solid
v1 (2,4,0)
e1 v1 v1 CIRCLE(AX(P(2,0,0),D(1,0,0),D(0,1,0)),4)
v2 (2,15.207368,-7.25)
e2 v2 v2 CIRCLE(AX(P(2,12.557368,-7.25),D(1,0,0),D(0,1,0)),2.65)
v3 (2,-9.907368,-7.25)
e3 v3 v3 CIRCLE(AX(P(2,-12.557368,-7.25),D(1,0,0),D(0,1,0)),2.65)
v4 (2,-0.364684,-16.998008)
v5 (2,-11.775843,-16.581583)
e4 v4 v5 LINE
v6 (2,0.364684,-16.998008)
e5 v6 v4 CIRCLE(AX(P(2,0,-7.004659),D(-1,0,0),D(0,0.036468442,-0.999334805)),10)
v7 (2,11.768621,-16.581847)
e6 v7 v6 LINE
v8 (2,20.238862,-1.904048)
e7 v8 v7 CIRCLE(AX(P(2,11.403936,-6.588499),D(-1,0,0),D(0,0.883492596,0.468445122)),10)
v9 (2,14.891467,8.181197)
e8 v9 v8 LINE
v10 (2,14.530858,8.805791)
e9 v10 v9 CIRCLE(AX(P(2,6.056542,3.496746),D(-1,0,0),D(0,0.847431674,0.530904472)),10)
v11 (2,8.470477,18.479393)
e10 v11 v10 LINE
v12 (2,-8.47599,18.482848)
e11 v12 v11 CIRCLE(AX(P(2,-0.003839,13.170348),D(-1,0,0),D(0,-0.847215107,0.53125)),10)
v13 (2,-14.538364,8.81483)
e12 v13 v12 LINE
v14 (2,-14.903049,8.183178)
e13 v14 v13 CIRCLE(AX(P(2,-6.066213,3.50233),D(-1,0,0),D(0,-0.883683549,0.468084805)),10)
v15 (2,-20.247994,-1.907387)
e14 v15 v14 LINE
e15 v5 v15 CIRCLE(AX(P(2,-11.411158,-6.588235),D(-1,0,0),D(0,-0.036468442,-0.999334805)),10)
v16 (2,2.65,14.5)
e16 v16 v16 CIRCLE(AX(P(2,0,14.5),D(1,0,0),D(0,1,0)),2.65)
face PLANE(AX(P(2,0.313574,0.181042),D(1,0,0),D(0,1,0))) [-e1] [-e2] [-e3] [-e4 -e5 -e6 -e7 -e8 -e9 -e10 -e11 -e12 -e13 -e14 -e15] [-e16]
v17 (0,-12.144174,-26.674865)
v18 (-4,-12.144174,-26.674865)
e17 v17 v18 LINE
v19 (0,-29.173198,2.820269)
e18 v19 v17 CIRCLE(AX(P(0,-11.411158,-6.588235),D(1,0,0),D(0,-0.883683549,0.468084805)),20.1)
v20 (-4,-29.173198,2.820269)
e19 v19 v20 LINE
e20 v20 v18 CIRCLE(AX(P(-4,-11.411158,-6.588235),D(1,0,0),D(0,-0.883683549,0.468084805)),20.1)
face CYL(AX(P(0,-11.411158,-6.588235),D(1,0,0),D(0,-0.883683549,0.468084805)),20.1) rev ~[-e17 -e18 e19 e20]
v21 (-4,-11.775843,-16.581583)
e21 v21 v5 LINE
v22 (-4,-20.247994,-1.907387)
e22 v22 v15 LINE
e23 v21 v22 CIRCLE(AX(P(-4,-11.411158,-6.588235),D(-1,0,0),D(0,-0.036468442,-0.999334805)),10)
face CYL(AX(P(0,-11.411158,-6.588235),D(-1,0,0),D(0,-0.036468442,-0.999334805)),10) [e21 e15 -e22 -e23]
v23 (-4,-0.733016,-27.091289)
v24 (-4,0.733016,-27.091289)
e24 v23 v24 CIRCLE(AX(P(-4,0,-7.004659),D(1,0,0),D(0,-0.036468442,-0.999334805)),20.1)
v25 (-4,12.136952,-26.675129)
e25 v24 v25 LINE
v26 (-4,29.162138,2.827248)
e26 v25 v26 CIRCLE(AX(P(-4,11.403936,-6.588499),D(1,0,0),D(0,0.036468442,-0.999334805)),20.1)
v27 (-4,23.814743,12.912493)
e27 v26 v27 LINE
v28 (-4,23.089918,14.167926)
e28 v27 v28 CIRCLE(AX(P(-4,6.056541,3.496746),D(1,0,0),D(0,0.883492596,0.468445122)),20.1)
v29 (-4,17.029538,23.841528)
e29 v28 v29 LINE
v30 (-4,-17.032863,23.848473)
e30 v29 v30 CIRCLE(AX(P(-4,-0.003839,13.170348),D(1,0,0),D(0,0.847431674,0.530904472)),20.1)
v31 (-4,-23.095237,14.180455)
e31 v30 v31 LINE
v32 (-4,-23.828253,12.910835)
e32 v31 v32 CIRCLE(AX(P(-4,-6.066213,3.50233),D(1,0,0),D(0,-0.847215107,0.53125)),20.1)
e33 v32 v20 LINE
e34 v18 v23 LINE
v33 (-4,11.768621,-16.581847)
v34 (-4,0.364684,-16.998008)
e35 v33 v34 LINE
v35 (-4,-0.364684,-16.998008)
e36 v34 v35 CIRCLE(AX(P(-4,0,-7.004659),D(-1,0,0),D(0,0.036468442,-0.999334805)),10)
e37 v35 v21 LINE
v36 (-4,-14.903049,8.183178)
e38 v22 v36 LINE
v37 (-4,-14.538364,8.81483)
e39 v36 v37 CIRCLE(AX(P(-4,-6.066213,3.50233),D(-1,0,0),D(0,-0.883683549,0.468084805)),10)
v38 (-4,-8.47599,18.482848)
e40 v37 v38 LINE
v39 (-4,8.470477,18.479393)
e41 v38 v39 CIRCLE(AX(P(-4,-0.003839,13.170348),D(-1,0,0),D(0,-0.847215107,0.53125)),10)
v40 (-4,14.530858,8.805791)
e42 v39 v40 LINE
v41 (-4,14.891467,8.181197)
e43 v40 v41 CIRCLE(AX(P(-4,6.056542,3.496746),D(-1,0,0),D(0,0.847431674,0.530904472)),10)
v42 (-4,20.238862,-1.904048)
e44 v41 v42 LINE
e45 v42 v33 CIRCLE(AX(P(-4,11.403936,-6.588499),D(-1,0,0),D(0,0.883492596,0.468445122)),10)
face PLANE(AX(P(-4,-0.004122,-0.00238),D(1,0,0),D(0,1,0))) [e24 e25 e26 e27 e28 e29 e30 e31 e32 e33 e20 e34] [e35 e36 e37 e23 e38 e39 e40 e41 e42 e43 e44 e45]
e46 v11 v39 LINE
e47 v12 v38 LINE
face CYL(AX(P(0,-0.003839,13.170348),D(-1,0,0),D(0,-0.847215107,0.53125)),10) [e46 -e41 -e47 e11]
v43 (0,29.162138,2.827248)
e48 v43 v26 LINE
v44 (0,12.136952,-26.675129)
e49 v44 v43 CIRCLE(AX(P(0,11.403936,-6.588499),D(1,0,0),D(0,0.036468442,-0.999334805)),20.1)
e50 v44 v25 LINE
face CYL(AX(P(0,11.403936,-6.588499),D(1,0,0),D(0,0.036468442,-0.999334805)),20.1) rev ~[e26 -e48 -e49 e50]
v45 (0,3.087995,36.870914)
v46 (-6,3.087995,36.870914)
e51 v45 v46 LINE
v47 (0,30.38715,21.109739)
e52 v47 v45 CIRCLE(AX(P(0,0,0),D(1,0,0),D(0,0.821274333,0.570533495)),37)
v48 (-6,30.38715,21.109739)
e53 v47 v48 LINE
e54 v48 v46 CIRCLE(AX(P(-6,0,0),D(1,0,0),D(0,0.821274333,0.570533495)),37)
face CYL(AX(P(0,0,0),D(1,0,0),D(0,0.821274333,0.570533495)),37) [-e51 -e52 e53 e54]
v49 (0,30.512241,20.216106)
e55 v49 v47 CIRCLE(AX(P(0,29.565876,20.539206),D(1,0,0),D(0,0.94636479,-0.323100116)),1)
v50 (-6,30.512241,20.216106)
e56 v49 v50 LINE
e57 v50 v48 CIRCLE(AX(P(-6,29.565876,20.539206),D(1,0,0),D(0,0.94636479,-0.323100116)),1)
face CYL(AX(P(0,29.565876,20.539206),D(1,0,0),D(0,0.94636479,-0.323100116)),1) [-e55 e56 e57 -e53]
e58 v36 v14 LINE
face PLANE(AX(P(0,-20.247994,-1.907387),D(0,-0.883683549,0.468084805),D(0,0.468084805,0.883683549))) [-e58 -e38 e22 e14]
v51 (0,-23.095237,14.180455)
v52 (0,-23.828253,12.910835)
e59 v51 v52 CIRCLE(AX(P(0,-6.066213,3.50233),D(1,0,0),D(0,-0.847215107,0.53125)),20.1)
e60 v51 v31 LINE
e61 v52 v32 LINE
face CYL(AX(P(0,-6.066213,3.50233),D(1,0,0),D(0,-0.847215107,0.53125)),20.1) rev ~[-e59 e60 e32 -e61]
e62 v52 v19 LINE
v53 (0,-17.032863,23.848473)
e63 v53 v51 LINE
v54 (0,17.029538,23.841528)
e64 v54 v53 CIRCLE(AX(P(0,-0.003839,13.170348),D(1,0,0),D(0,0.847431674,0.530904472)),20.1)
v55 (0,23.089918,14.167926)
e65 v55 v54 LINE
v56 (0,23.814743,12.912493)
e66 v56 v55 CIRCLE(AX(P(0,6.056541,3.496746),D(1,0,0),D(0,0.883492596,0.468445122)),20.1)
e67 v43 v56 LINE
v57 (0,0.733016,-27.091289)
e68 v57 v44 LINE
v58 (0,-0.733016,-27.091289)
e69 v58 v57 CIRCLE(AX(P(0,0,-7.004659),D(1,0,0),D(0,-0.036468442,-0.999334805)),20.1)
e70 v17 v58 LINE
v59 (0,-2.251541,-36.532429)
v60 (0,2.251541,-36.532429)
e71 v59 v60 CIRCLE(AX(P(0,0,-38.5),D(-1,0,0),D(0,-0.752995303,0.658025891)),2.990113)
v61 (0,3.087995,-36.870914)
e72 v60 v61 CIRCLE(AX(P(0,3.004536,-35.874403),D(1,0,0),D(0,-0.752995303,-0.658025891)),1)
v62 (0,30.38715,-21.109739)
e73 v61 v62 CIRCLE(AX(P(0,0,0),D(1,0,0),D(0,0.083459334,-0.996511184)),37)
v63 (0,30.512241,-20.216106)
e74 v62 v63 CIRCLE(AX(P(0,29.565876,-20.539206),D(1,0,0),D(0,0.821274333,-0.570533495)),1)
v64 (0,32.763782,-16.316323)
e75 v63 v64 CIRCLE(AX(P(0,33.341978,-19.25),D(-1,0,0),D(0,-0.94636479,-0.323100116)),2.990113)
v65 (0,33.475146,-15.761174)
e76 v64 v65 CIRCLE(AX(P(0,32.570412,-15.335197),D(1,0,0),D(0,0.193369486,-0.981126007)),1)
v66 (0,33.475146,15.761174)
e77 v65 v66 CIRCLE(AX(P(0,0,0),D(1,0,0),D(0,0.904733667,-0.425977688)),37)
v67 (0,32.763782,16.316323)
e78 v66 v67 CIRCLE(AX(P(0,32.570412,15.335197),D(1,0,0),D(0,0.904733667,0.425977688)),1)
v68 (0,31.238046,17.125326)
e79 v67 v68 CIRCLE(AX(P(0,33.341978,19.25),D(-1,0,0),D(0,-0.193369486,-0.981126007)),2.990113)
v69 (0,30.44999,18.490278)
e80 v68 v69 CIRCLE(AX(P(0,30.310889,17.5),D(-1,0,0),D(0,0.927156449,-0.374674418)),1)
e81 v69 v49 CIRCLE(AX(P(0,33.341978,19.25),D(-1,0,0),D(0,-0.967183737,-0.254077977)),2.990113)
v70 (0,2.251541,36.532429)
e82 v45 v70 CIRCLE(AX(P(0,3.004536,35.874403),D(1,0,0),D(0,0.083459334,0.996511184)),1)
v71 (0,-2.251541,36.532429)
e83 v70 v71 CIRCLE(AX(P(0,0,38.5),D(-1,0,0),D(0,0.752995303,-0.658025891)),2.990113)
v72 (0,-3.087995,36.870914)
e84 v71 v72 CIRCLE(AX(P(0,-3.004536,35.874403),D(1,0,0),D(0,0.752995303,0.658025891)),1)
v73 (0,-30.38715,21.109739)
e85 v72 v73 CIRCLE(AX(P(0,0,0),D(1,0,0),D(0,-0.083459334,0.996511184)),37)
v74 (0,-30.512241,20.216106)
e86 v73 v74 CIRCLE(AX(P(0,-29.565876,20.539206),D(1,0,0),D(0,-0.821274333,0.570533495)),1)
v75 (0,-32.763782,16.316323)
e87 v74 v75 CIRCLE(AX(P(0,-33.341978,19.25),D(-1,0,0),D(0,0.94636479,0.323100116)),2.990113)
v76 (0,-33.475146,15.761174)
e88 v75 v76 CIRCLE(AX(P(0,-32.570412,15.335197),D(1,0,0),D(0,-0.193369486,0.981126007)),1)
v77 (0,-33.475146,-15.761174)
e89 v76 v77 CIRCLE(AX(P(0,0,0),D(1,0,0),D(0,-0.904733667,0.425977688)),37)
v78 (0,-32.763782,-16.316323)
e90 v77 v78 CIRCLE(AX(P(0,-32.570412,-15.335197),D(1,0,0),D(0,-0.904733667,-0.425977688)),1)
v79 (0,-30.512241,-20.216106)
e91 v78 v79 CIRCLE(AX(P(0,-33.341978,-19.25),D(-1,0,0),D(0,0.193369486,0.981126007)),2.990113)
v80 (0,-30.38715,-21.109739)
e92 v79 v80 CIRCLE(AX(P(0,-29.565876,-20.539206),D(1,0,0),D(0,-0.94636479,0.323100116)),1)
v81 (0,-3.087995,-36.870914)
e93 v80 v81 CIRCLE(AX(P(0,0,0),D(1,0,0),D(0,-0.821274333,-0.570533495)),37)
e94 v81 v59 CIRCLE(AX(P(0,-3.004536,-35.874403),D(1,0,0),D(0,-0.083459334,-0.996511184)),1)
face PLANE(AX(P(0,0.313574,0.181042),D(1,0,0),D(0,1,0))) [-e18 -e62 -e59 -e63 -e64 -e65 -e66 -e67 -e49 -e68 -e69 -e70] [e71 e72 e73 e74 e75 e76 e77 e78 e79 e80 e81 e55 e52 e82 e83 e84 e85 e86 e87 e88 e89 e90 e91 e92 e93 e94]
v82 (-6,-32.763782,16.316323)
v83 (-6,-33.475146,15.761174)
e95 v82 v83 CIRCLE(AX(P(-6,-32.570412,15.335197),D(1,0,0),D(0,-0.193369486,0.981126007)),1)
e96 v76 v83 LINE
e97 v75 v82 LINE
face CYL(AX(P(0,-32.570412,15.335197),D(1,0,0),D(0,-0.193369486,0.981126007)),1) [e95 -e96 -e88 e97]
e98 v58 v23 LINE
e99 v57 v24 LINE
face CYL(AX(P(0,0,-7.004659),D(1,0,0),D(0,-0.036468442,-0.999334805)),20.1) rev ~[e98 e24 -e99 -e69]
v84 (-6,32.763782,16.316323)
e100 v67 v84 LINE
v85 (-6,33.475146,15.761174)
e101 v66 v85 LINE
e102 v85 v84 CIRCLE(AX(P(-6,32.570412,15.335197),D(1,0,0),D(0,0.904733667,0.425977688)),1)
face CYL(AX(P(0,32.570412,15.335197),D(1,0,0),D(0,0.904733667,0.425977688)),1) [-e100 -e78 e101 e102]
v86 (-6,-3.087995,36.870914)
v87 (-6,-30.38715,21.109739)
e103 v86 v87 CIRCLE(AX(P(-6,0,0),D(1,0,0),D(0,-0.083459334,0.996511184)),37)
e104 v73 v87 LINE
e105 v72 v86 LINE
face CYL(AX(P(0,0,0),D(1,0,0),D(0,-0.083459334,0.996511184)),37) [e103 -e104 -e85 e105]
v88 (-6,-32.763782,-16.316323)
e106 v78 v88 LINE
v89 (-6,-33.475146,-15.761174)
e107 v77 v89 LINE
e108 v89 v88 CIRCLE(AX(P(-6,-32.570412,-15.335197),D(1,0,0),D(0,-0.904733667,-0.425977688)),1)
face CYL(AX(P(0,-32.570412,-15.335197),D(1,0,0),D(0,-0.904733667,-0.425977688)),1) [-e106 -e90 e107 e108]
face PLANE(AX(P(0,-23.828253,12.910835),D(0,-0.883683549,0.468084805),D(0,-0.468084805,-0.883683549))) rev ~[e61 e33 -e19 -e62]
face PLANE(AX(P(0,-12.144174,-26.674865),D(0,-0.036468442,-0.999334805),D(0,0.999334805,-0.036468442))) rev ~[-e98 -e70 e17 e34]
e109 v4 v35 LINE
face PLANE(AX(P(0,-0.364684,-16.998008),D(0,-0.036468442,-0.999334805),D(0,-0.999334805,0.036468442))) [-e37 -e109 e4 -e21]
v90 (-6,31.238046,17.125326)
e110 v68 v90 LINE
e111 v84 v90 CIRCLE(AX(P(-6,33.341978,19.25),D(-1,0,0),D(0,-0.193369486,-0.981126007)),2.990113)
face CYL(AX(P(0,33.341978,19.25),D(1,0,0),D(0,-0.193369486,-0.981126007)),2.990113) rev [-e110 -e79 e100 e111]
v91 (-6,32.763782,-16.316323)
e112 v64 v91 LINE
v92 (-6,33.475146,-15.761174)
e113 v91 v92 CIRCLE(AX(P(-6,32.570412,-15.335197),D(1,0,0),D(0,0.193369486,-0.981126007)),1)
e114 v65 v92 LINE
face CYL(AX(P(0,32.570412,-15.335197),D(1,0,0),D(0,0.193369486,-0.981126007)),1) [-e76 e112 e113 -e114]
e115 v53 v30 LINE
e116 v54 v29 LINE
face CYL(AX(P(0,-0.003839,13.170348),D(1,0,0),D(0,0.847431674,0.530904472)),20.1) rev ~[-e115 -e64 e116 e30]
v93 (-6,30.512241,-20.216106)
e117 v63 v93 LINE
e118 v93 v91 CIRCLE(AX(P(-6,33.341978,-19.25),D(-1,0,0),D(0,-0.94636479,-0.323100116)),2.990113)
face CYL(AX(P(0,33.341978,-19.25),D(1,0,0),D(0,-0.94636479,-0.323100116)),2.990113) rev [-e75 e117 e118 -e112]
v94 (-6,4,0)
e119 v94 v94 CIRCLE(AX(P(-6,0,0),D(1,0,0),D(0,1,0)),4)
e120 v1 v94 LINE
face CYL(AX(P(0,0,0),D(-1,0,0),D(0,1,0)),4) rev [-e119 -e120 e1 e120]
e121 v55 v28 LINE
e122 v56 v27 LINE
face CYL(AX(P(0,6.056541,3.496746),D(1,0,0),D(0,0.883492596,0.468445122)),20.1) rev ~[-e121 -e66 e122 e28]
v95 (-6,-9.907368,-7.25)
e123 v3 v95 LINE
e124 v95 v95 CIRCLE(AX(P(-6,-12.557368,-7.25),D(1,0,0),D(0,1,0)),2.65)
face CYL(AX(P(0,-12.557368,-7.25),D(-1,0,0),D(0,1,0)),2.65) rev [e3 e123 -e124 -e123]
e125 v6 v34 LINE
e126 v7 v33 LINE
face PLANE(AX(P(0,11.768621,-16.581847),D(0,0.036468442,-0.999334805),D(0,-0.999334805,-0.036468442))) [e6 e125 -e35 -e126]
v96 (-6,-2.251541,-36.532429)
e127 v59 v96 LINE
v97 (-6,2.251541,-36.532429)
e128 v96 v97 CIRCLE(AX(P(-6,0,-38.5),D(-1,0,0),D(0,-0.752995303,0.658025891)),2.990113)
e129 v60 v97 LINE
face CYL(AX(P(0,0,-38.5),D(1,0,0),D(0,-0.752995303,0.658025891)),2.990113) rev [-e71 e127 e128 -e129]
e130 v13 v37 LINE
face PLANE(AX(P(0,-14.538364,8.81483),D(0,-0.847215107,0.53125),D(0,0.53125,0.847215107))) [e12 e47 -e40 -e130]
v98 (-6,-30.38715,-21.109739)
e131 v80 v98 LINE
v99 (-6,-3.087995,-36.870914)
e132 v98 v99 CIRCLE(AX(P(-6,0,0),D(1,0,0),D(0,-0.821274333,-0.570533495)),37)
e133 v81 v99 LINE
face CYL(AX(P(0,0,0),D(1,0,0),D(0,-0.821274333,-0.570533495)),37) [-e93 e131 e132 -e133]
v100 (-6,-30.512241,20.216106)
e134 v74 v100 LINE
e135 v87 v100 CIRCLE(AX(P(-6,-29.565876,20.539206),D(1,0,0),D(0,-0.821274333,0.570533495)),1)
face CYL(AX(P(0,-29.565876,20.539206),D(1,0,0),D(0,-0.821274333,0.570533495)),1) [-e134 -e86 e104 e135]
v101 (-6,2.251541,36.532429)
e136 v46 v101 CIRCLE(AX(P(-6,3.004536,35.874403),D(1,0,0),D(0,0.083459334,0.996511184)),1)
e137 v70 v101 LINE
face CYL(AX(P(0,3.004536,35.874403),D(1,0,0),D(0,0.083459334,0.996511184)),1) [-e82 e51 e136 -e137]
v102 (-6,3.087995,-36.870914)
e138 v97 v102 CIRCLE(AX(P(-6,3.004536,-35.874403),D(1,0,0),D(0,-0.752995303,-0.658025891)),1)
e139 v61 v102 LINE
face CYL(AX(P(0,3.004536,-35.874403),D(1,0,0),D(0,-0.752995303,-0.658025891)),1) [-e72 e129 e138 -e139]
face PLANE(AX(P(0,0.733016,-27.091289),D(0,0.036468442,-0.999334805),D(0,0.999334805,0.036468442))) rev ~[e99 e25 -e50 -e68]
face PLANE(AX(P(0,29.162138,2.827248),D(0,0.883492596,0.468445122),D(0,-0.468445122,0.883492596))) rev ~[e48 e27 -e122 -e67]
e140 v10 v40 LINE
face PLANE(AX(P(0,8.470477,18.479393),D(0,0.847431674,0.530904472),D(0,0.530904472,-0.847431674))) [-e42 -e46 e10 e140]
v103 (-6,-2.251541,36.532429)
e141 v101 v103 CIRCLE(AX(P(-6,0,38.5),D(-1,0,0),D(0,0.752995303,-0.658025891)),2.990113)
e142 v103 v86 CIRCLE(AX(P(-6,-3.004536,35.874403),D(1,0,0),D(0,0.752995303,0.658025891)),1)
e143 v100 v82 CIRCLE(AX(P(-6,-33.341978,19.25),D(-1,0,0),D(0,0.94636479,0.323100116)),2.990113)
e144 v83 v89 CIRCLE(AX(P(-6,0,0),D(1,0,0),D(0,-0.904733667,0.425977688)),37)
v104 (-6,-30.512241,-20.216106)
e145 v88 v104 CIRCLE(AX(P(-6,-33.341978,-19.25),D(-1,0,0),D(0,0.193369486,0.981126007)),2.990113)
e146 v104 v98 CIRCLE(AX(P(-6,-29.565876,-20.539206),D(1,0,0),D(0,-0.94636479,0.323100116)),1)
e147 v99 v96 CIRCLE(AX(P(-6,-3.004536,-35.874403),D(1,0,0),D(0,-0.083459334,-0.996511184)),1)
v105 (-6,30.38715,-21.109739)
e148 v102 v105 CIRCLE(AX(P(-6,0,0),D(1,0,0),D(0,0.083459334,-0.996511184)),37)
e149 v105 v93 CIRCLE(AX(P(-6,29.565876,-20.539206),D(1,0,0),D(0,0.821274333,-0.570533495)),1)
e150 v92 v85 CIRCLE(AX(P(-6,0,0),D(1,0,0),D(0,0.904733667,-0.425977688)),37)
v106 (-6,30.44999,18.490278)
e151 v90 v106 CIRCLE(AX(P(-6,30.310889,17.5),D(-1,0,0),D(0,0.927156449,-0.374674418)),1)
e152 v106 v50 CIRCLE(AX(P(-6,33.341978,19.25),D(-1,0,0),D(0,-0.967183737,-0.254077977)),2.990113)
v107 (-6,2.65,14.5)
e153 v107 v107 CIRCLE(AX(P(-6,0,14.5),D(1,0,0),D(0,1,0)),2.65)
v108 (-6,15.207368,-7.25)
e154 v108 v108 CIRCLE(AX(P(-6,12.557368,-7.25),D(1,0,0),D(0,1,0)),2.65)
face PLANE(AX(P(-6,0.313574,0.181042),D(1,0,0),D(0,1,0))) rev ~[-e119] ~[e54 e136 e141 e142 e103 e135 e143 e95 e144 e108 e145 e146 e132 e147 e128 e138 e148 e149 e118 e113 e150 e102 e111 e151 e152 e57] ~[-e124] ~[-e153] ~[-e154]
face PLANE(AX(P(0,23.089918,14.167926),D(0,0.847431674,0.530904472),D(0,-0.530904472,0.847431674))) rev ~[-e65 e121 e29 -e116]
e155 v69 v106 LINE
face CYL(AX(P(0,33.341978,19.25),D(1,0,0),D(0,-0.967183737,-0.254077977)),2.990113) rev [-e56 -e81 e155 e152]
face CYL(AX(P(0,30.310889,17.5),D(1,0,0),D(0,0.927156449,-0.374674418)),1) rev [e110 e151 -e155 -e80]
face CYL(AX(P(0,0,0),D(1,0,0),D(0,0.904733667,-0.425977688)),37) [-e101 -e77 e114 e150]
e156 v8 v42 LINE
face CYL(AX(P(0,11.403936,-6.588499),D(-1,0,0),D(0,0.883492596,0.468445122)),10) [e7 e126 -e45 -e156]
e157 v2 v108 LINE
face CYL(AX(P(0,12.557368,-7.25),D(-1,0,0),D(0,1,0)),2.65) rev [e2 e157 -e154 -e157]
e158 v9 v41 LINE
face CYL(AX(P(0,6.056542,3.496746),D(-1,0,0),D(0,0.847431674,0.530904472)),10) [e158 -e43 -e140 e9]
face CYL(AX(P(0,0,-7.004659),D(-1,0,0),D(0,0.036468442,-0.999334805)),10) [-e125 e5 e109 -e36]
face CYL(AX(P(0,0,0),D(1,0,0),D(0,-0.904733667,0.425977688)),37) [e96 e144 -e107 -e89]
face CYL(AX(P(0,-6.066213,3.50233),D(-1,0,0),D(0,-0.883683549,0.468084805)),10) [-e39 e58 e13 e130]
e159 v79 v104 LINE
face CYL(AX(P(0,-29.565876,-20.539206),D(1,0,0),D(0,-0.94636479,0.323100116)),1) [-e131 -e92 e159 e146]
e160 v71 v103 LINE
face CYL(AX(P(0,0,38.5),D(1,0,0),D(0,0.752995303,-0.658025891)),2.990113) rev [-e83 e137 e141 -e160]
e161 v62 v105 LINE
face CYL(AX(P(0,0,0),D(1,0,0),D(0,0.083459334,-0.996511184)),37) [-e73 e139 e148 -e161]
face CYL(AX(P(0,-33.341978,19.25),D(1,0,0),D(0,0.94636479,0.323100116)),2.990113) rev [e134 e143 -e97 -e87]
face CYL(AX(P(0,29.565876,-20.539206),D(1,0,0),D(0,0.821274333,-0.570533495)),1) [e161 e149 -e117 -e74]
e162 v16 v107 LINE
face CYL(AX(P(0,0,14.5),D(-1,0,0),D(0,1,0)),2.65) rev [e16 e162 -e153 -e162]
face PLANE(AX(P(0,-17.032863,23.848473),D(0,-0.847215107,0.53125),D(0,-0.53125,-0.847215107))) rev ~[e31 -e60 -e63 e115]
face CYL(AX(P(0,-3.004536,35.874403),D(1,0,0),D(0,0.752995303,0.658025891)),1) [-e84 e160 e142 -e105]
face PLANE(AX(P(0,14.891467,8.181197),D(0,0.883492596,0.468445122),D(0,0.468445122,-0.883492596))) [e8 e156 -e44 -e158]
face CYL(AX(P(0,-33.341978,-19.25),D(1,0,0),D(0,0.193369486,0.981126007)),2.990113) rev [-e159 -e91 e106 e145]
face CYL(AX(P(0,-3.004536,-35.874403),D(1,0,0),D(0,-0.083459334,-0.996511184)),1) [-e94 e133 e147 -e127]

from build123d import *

# Parameters (mm, degrees)
F0_R     = 2.65
F0_R_2   = 4
F1_DEPTH = 6
F2_DEPTH = 4
F3_DEPTH = 2


with BuildPart() as f1:
    # F0 (on Right) → F1 (new body)
    with BuildSketch(Plane.YZ):
        with BuildLine():
            ThreePointArc((-2.2515407231, 36.53242851), (-2.6294191421, 36.8013801393), (-3.0879953604, 36.8709138028))
            ThreePointArc((-3.0879953604, 36.8709138028), (-18.5, 32.04293994), (-30.3871503338, 21.1097393303))
            ThreePointArc((-30.3871503338, 21.1097393303), (-30.5562205239, 20.6778338439), (-30.5122407901, 20.2161057189))
            ThreePointArc((-30.5122407901, 20.2161057189), (-30.7524645978, 17.7549437138), (-32.7637815132, 16.3163227911))
            ThreePointArc((-32.7637815132, 16.3163227911), (-33.185639666, 16.1235462954), (-33.4751456942, 15.7611744725))
            ThreePointArc((-33.4751456942, 15.7611744725), (-37, 0), (-33.4751456942, -15.7611744725))
            ThreePointArc((-33.4751456942, -15.7611744725), (-33.185639666, -16.1235462954), (-32.7637815132, -16.3163227911))
            ThreePointArc((-32.7637815132, -16.3163227911), (-30.7524645978, -17.7549437138), (-30.5122407901, -20.2161057189))
            ThreePointArc((-30.5122407901, -20.2161057189), (-30.5562205239, -20.6778338439), (-30.3871503338, -21.1097393303))
            ThreePointArc((-30.3871503338, -21.1097393303), (-18.5, -32.04293994), (-3.0879953604, -36.8709138028))
            ThreePointArc((-3.0879953604, -36.8709138028), (-2.6294191421, -36.8013801393), (-2.2515407231, -36.53242851))
            ThreePointArc((-2.2515407231, -36.53242851), (0, -35.5098874275), (2.2515407231, -36.53242851))
            ThreePointArc((2.2515407231, -36.53242851), (2.6294191421, -36.8013801393), (3.0879953604, -36.8709138028))
            ThreePointArc((3.0879953604, -36.8709138028), (18.5, -32.04293994), (30.3871503338, -21.1097393303))
            ThreePointArc((30.3871503338, -21.1097393303), (30.5562205239, -20.6778338439), (30.5122407901, -20.2161057189))
            ThreePointArc((30.5122407901, -20.2161057189), (30.7524645978, -17.7549437138), (32.7637815132, -16.3163227911))
            ThreePointArc((32.7637815132, -16.3163227911), (33.185639666, -16.1235462954), (33.4751456942, -15.7611744725))
            ThreePointArc((33.4751456942, -15.7611744725), (37, 0), (33.4751456942, 15.7611744725))
            ThreePointArc((33.4751456942, 15.7611744725), (33.185639666, 16.1235462954), (32.7637815132, 16.3163227911))
            ThreePointArc((32.7637815132, 16.3163227911), (31.941237039, 16.6082774884), (31.2380455813, 17.1253255822))
            ThreePointArc((31.2380455813, 17.1253255822), (29.4448637287, 17), (30.449989793, 18.4902782469))
            ThreePointArc((30.449989793, 18.4902782469), (30.3538087376, 19.3577839598), (30.5122407901, 20.2161057189))
            ThreePointArc((30.5122407901, 20.2161057189), (30.5562205239, 20.6778338439), (30.3871503338, 21.1097393303))
            ThreePointArc((30.3871503338, 21.1097393303), (18.5, 32.04293994), (3.0879953604, 36.8709138028))
            ThreePointArc((3.0879953604, 36.8709138028), (2.6294191421, 36.8013801393), (2.2515407231, 36.53242851))
            ThreePointArc((2.2515407231, 36.53242851), (0, 35.5098874275), (-2.2515407231, 36.53242851))
        make_face()
        with BuildLine():
            Line((-23.0952370323, 14.180454946), (-17.0328632471, 23.8484731203))
            ThreePointArc((-17.0328632471, 23.8484731203), (0.0002590164, 33.2703478915), (17.0295377344, 23.8415279974))
            Line((17.0295377344, 23.8415279974), (23.0899184639, 14.167925942))
            ThreePointArc((23.0899184639, 14.167925942), (23.4636524397, 13.5467460522), (23.8147430167, 12.9124929901))
            Line((23.8147430167, 12.9124929901), (29.162137778, 2.827248294))
            ThreePointArc((29.162137778, 2.827248294), (28.813095975, -16.6349496309), (12.1369519401, -26.6751288313))
            Line((12.1369519401, -26.6751288313), (0.7330157043, -27.0912894495))
            ThreePointArc((0.7330157043, -27.0912894495), (0, -27.1046598669), (-0.7330157043, -27.0912894495))
            Line((-0.7330157043, -27.0912894495), (-12.1441739659, -26.6748652799))
            ThreePointArc((-12.1441739659, -26.6748652799), (-28.8182692269, -16.6382354957), (-29.1731979579, 2.8202694775))
            Line((-29.1731979579, 2.8202694775), (-23.8282527367, 12.9108345034))
            ThreePointArc((-23.8282527367, 12.9108345034), (-23.4733240056, 13.5523299334), (-23.0952370323, 14.180454946))
        make_face(mode=Mode.SUBTRACT)
        with BuildLine():
            ThreePointArc((17.0295377344, 23.8415279974), (0.0002590164, 33.2703478915), (-17.0328632471, 23.8484731203))
            Line((-17.0328632471, 23.8484731203), (-23.0952370323, 14.180454946))
            ThreePointArc((-23.0952370323, 14.180454946), (-23.4733240056, 13.5523299334), (-23.8282527367, 12.9108345034))
            Line((-23.8282527367, 12.9108345034), (-29.1731979579, 2.8202694775))
            ThreePointArc((-29.1731979579, 2.8202694775), (-28.8182692269, -16.6382354957), (-12.1441739659, -26.6748652799))
            Line((-12.1441739659, -26.6748652799), (-0.7330157043, -27.0912894495))
            ThreePointArc((-0.7330157043, -27.0912894495), (0, -27.1046598669), (0.7330157043, -27.0912894495))
            Line((0.7330157043, -27.0912894495), (12.1369519401, -26.6751288313))
            ThreePointArc((12.1369519401, -26.6751288313), (28.813095975, -16.6349496309), (29.162137778, 2.827248294))
            Line((29.162137778, 2.827248294), (23.8147430167, 12.9124929901))
            ThreePointArc((23.8147430167, 12.9124929901), (23.4636524397, 13.5467460522), (23.0899184639, 14.167925942))
            Line((23.0899184639, 14.167925942), (17.0295377344, 23.8415279974))
        make_face()
        with BuildLine():
            Line((-14.5383641102, 8.8148297318), (-8.4759903249, 18.482847906))
            ThreePointArc((-8.4759903249, 18.482847906), (-0.0018003141, 23.1703476982), (8.4704774851, 18.4793926211))
            Line((8.4704774851, 18.4793926211), (14.5308582146, 8.8057905657))
            ThreePointArc((14.5308582146, 8.8057905657), (14.7167955123, 8.4967458506), (14.8914674376, 8.1811970698))
            Line((14.8914674376, 8.1811970698), (20.2388621989, -1.9040476263))
            ThreePointArc((20.2388621989, -1.9040476263), (20.0652095641, -11.5867329668), (11.7686206585, -16.5818468966))
            Line((11.7686206585, -16.5818468966), (0.3646844227, -16.9980075148))
            ThreePointArc((0.3646844227, -16.9980075148), (0, -17.0046594636), (-0.3646844227, -16.9980075148))
            Line((-0.3646844227, -16.9980075148), (-11.7758426843, -16.5815833453))
            ThreePointArc((-11.7758426843, -16.5815833453), (-20.0714122995, -11.5882352941), (-20.2479937541, -1.9073872429))
            Line((-20.2479937541, -1.9073872429), (-14.9030485329, 8.183177783))
            ThreePointArc((-14.9030485329, 8.183177783), (-14.7264670782, 8.5023297318), (-14.5383641102, 8.8148297318))
        make_face(mode=Mode.SUBTRACT)
        with BuildLine():
            ThreePointArc((8.4704774851, 18.4793926211), (-0.0018003141, 23.1703476982), (-8.4759903249, 18.482847906))
            Line((-8.4759903249, 18.482847906), (-14.5383641102, 8.8148297318))
            ThreePointArc((-14.5383641102, 8.8148297318), (-14.7264670782, 8.5023297318), (-14.9030485329, 8.183177783))
            Line((-14.9030485329, 8.183177783), (-20.2479937541, -1.9073872429))
            ThreePointArc((-20.2479937541, -1.9073872429), (-20.0714122995, -11.5882352941), (-11.7758426843, -16.5815833453))
            Line((-11.7758426843, -16.5815833453), (-0.3646844227, -16.9980075148))
            ThreePointArc((-0.3646844227, -16.9980075148), (0, -17.0046594636), (0.3646844227, -16.9980075148))
            Line((0.3646844227, -16.9980075148), (11.7686206585, -16.5818468966))
            ThreePointArc((11.7686206585, -16.5818468966), (20.0652095641, -11.5867329668), (20.2388621989, -1.9040476263))
            Line((20.2388621989, -1.9040476263), (14.8914674376, 8.1811970698))
            ThreePointArc((14.8914674376, 8.1811970698), (14.7167955123, 8.4967458506), (14.5308582146, 8.8057905657))
            Line((14.5308582146, 8.8057905657), (8.4704774851, 18.4793926211))
        make_face()
        with Locations((-12.5573683549, -7.25)):
            Circle(F0_R, mode=Mode.SUBTRACT)
        with Locations((12.5573683549, -7.25)):
            Circle(F0_R, mode=Mode.SUBTRACT)
        Circle(F0_R_2, mode=Mode.SUBTRACT)
        with Locations((0, 14.5)):
            Circle(F0_R, mode=Mode.SUBTRACT)
    extrude(amount=-F1_DEPTH)

    # F0 (on Right) → F2 (cut)
    with BuildSketch(Plane.YZ):
        with BuildLine():
            ThreePointArc((17.0295377344, 23.8415279974), (0.0002590164, 33.2703478915), (-17.0328632471, 23.8484731203))
            Line((-17.0328632471, 23.8484731203), (-23.0952370323, 14.180454946))
            ThreePointArc((-23.0952370323, 14.180454946), (-23.4733240056, 13.5523299334), (-23.8282527367, 12.9108345034))
            Line((-23.8282527367, 12.9108345034), (-29.1731979579, 2.8202694775))
            ThreePointArc((-29.1731979579, 2.8202694775), (-28.8182692269, -16.6382354957), (-12.1441739659, -26.6748652799))
            Line((-12.1441739659, -26.6748652799), (-0.7330157043, -27.0912894495))
            ThreePointArc((-0.7330157043, -27.0912894495), (0, -27.1046598669), (0.7330157043, -27.0912894495))
            Line((0.7330157043, -27.0912894495), (12.1369519401, -26.6751288313))
            ThreePointArc((12.1369519401, -26.6751288313), (28.813095975, -16.6349496309), (29.162137778, 2.827248294))
            Line((29.162137778, 2.827248294), (23.8147430167, 12.9124929901))
            ThreePointArc((23.8147430167, 12.9124929901), (23.4636524397, 13.5467460522), (23.0899184639, 14.167925942))
            Line((23.0899184639, 14.167925942), (17.0295377344, 23.8415279974))
        make_face()
        with BuildLine():
            Line((-14.5383641102, 8.8148297318), (-8.4759903249, 18.482847906))
            ThreePointArc((-8.4759903249, 18.482847906), (-0.0018003141, 23.1703476982), (8.4704774851, 18.4793926211))
            Line((8.4704774851, 18.4793926211), (14.5308582146, 8.8057905657))
            ThreePointArc((14.5308582146, 8.8057905657), (14.7167955123, 8.4967458506), (14.8914674376, 8.1811970698))
            Line((14.8914674376, 8.1811970698), (20.2388621989, -1.9040476263))
            ThreePointArc((20.2388621989, -1.9040476263), (20.0652095641, -11.5867329668), (11.7686206585, -16.5818468966))
            Line((11.7686206585, -16.5818468966), (0.3646844227, -16.9980075148))
            ThreePointArc((0.3646844227, -16.9980075148), (0, -17.0046594636), (-0.3646844227, -16.9980075148))
            Line((-0.3646844227, -16.9980075148), (-11.7758426843, -16.5815833453))
            ThreePointArc((-11.7758426843, -16.5815833453), (-20.0714122995, -11.5882352941), (-20.2479937541, -1.9073872429))
            Line((-20.2479937541, -1.9073872429), (-14.9030485329, 8.183177783))
            ThreePointArc((-14.9030485329, 8.183177783), (-14.7264670782, 8.5023297318), (-14.5383641102, 8.8148297318))
        make_face(mode=Mode.SUBTRACT)
    extrude(amount=-F2_DEPTH, mode=Mode.SUBTRACT)

    # F3 (add): a face of the model
    f3_faces = [f1.faces().sort_by_distance(p)[0] for p in [
        (0, -11.0097556238, 13.3369283968),
    ]]
    extrude(f3_faces, amount=F3_DEPTH)


solid = f1.part
